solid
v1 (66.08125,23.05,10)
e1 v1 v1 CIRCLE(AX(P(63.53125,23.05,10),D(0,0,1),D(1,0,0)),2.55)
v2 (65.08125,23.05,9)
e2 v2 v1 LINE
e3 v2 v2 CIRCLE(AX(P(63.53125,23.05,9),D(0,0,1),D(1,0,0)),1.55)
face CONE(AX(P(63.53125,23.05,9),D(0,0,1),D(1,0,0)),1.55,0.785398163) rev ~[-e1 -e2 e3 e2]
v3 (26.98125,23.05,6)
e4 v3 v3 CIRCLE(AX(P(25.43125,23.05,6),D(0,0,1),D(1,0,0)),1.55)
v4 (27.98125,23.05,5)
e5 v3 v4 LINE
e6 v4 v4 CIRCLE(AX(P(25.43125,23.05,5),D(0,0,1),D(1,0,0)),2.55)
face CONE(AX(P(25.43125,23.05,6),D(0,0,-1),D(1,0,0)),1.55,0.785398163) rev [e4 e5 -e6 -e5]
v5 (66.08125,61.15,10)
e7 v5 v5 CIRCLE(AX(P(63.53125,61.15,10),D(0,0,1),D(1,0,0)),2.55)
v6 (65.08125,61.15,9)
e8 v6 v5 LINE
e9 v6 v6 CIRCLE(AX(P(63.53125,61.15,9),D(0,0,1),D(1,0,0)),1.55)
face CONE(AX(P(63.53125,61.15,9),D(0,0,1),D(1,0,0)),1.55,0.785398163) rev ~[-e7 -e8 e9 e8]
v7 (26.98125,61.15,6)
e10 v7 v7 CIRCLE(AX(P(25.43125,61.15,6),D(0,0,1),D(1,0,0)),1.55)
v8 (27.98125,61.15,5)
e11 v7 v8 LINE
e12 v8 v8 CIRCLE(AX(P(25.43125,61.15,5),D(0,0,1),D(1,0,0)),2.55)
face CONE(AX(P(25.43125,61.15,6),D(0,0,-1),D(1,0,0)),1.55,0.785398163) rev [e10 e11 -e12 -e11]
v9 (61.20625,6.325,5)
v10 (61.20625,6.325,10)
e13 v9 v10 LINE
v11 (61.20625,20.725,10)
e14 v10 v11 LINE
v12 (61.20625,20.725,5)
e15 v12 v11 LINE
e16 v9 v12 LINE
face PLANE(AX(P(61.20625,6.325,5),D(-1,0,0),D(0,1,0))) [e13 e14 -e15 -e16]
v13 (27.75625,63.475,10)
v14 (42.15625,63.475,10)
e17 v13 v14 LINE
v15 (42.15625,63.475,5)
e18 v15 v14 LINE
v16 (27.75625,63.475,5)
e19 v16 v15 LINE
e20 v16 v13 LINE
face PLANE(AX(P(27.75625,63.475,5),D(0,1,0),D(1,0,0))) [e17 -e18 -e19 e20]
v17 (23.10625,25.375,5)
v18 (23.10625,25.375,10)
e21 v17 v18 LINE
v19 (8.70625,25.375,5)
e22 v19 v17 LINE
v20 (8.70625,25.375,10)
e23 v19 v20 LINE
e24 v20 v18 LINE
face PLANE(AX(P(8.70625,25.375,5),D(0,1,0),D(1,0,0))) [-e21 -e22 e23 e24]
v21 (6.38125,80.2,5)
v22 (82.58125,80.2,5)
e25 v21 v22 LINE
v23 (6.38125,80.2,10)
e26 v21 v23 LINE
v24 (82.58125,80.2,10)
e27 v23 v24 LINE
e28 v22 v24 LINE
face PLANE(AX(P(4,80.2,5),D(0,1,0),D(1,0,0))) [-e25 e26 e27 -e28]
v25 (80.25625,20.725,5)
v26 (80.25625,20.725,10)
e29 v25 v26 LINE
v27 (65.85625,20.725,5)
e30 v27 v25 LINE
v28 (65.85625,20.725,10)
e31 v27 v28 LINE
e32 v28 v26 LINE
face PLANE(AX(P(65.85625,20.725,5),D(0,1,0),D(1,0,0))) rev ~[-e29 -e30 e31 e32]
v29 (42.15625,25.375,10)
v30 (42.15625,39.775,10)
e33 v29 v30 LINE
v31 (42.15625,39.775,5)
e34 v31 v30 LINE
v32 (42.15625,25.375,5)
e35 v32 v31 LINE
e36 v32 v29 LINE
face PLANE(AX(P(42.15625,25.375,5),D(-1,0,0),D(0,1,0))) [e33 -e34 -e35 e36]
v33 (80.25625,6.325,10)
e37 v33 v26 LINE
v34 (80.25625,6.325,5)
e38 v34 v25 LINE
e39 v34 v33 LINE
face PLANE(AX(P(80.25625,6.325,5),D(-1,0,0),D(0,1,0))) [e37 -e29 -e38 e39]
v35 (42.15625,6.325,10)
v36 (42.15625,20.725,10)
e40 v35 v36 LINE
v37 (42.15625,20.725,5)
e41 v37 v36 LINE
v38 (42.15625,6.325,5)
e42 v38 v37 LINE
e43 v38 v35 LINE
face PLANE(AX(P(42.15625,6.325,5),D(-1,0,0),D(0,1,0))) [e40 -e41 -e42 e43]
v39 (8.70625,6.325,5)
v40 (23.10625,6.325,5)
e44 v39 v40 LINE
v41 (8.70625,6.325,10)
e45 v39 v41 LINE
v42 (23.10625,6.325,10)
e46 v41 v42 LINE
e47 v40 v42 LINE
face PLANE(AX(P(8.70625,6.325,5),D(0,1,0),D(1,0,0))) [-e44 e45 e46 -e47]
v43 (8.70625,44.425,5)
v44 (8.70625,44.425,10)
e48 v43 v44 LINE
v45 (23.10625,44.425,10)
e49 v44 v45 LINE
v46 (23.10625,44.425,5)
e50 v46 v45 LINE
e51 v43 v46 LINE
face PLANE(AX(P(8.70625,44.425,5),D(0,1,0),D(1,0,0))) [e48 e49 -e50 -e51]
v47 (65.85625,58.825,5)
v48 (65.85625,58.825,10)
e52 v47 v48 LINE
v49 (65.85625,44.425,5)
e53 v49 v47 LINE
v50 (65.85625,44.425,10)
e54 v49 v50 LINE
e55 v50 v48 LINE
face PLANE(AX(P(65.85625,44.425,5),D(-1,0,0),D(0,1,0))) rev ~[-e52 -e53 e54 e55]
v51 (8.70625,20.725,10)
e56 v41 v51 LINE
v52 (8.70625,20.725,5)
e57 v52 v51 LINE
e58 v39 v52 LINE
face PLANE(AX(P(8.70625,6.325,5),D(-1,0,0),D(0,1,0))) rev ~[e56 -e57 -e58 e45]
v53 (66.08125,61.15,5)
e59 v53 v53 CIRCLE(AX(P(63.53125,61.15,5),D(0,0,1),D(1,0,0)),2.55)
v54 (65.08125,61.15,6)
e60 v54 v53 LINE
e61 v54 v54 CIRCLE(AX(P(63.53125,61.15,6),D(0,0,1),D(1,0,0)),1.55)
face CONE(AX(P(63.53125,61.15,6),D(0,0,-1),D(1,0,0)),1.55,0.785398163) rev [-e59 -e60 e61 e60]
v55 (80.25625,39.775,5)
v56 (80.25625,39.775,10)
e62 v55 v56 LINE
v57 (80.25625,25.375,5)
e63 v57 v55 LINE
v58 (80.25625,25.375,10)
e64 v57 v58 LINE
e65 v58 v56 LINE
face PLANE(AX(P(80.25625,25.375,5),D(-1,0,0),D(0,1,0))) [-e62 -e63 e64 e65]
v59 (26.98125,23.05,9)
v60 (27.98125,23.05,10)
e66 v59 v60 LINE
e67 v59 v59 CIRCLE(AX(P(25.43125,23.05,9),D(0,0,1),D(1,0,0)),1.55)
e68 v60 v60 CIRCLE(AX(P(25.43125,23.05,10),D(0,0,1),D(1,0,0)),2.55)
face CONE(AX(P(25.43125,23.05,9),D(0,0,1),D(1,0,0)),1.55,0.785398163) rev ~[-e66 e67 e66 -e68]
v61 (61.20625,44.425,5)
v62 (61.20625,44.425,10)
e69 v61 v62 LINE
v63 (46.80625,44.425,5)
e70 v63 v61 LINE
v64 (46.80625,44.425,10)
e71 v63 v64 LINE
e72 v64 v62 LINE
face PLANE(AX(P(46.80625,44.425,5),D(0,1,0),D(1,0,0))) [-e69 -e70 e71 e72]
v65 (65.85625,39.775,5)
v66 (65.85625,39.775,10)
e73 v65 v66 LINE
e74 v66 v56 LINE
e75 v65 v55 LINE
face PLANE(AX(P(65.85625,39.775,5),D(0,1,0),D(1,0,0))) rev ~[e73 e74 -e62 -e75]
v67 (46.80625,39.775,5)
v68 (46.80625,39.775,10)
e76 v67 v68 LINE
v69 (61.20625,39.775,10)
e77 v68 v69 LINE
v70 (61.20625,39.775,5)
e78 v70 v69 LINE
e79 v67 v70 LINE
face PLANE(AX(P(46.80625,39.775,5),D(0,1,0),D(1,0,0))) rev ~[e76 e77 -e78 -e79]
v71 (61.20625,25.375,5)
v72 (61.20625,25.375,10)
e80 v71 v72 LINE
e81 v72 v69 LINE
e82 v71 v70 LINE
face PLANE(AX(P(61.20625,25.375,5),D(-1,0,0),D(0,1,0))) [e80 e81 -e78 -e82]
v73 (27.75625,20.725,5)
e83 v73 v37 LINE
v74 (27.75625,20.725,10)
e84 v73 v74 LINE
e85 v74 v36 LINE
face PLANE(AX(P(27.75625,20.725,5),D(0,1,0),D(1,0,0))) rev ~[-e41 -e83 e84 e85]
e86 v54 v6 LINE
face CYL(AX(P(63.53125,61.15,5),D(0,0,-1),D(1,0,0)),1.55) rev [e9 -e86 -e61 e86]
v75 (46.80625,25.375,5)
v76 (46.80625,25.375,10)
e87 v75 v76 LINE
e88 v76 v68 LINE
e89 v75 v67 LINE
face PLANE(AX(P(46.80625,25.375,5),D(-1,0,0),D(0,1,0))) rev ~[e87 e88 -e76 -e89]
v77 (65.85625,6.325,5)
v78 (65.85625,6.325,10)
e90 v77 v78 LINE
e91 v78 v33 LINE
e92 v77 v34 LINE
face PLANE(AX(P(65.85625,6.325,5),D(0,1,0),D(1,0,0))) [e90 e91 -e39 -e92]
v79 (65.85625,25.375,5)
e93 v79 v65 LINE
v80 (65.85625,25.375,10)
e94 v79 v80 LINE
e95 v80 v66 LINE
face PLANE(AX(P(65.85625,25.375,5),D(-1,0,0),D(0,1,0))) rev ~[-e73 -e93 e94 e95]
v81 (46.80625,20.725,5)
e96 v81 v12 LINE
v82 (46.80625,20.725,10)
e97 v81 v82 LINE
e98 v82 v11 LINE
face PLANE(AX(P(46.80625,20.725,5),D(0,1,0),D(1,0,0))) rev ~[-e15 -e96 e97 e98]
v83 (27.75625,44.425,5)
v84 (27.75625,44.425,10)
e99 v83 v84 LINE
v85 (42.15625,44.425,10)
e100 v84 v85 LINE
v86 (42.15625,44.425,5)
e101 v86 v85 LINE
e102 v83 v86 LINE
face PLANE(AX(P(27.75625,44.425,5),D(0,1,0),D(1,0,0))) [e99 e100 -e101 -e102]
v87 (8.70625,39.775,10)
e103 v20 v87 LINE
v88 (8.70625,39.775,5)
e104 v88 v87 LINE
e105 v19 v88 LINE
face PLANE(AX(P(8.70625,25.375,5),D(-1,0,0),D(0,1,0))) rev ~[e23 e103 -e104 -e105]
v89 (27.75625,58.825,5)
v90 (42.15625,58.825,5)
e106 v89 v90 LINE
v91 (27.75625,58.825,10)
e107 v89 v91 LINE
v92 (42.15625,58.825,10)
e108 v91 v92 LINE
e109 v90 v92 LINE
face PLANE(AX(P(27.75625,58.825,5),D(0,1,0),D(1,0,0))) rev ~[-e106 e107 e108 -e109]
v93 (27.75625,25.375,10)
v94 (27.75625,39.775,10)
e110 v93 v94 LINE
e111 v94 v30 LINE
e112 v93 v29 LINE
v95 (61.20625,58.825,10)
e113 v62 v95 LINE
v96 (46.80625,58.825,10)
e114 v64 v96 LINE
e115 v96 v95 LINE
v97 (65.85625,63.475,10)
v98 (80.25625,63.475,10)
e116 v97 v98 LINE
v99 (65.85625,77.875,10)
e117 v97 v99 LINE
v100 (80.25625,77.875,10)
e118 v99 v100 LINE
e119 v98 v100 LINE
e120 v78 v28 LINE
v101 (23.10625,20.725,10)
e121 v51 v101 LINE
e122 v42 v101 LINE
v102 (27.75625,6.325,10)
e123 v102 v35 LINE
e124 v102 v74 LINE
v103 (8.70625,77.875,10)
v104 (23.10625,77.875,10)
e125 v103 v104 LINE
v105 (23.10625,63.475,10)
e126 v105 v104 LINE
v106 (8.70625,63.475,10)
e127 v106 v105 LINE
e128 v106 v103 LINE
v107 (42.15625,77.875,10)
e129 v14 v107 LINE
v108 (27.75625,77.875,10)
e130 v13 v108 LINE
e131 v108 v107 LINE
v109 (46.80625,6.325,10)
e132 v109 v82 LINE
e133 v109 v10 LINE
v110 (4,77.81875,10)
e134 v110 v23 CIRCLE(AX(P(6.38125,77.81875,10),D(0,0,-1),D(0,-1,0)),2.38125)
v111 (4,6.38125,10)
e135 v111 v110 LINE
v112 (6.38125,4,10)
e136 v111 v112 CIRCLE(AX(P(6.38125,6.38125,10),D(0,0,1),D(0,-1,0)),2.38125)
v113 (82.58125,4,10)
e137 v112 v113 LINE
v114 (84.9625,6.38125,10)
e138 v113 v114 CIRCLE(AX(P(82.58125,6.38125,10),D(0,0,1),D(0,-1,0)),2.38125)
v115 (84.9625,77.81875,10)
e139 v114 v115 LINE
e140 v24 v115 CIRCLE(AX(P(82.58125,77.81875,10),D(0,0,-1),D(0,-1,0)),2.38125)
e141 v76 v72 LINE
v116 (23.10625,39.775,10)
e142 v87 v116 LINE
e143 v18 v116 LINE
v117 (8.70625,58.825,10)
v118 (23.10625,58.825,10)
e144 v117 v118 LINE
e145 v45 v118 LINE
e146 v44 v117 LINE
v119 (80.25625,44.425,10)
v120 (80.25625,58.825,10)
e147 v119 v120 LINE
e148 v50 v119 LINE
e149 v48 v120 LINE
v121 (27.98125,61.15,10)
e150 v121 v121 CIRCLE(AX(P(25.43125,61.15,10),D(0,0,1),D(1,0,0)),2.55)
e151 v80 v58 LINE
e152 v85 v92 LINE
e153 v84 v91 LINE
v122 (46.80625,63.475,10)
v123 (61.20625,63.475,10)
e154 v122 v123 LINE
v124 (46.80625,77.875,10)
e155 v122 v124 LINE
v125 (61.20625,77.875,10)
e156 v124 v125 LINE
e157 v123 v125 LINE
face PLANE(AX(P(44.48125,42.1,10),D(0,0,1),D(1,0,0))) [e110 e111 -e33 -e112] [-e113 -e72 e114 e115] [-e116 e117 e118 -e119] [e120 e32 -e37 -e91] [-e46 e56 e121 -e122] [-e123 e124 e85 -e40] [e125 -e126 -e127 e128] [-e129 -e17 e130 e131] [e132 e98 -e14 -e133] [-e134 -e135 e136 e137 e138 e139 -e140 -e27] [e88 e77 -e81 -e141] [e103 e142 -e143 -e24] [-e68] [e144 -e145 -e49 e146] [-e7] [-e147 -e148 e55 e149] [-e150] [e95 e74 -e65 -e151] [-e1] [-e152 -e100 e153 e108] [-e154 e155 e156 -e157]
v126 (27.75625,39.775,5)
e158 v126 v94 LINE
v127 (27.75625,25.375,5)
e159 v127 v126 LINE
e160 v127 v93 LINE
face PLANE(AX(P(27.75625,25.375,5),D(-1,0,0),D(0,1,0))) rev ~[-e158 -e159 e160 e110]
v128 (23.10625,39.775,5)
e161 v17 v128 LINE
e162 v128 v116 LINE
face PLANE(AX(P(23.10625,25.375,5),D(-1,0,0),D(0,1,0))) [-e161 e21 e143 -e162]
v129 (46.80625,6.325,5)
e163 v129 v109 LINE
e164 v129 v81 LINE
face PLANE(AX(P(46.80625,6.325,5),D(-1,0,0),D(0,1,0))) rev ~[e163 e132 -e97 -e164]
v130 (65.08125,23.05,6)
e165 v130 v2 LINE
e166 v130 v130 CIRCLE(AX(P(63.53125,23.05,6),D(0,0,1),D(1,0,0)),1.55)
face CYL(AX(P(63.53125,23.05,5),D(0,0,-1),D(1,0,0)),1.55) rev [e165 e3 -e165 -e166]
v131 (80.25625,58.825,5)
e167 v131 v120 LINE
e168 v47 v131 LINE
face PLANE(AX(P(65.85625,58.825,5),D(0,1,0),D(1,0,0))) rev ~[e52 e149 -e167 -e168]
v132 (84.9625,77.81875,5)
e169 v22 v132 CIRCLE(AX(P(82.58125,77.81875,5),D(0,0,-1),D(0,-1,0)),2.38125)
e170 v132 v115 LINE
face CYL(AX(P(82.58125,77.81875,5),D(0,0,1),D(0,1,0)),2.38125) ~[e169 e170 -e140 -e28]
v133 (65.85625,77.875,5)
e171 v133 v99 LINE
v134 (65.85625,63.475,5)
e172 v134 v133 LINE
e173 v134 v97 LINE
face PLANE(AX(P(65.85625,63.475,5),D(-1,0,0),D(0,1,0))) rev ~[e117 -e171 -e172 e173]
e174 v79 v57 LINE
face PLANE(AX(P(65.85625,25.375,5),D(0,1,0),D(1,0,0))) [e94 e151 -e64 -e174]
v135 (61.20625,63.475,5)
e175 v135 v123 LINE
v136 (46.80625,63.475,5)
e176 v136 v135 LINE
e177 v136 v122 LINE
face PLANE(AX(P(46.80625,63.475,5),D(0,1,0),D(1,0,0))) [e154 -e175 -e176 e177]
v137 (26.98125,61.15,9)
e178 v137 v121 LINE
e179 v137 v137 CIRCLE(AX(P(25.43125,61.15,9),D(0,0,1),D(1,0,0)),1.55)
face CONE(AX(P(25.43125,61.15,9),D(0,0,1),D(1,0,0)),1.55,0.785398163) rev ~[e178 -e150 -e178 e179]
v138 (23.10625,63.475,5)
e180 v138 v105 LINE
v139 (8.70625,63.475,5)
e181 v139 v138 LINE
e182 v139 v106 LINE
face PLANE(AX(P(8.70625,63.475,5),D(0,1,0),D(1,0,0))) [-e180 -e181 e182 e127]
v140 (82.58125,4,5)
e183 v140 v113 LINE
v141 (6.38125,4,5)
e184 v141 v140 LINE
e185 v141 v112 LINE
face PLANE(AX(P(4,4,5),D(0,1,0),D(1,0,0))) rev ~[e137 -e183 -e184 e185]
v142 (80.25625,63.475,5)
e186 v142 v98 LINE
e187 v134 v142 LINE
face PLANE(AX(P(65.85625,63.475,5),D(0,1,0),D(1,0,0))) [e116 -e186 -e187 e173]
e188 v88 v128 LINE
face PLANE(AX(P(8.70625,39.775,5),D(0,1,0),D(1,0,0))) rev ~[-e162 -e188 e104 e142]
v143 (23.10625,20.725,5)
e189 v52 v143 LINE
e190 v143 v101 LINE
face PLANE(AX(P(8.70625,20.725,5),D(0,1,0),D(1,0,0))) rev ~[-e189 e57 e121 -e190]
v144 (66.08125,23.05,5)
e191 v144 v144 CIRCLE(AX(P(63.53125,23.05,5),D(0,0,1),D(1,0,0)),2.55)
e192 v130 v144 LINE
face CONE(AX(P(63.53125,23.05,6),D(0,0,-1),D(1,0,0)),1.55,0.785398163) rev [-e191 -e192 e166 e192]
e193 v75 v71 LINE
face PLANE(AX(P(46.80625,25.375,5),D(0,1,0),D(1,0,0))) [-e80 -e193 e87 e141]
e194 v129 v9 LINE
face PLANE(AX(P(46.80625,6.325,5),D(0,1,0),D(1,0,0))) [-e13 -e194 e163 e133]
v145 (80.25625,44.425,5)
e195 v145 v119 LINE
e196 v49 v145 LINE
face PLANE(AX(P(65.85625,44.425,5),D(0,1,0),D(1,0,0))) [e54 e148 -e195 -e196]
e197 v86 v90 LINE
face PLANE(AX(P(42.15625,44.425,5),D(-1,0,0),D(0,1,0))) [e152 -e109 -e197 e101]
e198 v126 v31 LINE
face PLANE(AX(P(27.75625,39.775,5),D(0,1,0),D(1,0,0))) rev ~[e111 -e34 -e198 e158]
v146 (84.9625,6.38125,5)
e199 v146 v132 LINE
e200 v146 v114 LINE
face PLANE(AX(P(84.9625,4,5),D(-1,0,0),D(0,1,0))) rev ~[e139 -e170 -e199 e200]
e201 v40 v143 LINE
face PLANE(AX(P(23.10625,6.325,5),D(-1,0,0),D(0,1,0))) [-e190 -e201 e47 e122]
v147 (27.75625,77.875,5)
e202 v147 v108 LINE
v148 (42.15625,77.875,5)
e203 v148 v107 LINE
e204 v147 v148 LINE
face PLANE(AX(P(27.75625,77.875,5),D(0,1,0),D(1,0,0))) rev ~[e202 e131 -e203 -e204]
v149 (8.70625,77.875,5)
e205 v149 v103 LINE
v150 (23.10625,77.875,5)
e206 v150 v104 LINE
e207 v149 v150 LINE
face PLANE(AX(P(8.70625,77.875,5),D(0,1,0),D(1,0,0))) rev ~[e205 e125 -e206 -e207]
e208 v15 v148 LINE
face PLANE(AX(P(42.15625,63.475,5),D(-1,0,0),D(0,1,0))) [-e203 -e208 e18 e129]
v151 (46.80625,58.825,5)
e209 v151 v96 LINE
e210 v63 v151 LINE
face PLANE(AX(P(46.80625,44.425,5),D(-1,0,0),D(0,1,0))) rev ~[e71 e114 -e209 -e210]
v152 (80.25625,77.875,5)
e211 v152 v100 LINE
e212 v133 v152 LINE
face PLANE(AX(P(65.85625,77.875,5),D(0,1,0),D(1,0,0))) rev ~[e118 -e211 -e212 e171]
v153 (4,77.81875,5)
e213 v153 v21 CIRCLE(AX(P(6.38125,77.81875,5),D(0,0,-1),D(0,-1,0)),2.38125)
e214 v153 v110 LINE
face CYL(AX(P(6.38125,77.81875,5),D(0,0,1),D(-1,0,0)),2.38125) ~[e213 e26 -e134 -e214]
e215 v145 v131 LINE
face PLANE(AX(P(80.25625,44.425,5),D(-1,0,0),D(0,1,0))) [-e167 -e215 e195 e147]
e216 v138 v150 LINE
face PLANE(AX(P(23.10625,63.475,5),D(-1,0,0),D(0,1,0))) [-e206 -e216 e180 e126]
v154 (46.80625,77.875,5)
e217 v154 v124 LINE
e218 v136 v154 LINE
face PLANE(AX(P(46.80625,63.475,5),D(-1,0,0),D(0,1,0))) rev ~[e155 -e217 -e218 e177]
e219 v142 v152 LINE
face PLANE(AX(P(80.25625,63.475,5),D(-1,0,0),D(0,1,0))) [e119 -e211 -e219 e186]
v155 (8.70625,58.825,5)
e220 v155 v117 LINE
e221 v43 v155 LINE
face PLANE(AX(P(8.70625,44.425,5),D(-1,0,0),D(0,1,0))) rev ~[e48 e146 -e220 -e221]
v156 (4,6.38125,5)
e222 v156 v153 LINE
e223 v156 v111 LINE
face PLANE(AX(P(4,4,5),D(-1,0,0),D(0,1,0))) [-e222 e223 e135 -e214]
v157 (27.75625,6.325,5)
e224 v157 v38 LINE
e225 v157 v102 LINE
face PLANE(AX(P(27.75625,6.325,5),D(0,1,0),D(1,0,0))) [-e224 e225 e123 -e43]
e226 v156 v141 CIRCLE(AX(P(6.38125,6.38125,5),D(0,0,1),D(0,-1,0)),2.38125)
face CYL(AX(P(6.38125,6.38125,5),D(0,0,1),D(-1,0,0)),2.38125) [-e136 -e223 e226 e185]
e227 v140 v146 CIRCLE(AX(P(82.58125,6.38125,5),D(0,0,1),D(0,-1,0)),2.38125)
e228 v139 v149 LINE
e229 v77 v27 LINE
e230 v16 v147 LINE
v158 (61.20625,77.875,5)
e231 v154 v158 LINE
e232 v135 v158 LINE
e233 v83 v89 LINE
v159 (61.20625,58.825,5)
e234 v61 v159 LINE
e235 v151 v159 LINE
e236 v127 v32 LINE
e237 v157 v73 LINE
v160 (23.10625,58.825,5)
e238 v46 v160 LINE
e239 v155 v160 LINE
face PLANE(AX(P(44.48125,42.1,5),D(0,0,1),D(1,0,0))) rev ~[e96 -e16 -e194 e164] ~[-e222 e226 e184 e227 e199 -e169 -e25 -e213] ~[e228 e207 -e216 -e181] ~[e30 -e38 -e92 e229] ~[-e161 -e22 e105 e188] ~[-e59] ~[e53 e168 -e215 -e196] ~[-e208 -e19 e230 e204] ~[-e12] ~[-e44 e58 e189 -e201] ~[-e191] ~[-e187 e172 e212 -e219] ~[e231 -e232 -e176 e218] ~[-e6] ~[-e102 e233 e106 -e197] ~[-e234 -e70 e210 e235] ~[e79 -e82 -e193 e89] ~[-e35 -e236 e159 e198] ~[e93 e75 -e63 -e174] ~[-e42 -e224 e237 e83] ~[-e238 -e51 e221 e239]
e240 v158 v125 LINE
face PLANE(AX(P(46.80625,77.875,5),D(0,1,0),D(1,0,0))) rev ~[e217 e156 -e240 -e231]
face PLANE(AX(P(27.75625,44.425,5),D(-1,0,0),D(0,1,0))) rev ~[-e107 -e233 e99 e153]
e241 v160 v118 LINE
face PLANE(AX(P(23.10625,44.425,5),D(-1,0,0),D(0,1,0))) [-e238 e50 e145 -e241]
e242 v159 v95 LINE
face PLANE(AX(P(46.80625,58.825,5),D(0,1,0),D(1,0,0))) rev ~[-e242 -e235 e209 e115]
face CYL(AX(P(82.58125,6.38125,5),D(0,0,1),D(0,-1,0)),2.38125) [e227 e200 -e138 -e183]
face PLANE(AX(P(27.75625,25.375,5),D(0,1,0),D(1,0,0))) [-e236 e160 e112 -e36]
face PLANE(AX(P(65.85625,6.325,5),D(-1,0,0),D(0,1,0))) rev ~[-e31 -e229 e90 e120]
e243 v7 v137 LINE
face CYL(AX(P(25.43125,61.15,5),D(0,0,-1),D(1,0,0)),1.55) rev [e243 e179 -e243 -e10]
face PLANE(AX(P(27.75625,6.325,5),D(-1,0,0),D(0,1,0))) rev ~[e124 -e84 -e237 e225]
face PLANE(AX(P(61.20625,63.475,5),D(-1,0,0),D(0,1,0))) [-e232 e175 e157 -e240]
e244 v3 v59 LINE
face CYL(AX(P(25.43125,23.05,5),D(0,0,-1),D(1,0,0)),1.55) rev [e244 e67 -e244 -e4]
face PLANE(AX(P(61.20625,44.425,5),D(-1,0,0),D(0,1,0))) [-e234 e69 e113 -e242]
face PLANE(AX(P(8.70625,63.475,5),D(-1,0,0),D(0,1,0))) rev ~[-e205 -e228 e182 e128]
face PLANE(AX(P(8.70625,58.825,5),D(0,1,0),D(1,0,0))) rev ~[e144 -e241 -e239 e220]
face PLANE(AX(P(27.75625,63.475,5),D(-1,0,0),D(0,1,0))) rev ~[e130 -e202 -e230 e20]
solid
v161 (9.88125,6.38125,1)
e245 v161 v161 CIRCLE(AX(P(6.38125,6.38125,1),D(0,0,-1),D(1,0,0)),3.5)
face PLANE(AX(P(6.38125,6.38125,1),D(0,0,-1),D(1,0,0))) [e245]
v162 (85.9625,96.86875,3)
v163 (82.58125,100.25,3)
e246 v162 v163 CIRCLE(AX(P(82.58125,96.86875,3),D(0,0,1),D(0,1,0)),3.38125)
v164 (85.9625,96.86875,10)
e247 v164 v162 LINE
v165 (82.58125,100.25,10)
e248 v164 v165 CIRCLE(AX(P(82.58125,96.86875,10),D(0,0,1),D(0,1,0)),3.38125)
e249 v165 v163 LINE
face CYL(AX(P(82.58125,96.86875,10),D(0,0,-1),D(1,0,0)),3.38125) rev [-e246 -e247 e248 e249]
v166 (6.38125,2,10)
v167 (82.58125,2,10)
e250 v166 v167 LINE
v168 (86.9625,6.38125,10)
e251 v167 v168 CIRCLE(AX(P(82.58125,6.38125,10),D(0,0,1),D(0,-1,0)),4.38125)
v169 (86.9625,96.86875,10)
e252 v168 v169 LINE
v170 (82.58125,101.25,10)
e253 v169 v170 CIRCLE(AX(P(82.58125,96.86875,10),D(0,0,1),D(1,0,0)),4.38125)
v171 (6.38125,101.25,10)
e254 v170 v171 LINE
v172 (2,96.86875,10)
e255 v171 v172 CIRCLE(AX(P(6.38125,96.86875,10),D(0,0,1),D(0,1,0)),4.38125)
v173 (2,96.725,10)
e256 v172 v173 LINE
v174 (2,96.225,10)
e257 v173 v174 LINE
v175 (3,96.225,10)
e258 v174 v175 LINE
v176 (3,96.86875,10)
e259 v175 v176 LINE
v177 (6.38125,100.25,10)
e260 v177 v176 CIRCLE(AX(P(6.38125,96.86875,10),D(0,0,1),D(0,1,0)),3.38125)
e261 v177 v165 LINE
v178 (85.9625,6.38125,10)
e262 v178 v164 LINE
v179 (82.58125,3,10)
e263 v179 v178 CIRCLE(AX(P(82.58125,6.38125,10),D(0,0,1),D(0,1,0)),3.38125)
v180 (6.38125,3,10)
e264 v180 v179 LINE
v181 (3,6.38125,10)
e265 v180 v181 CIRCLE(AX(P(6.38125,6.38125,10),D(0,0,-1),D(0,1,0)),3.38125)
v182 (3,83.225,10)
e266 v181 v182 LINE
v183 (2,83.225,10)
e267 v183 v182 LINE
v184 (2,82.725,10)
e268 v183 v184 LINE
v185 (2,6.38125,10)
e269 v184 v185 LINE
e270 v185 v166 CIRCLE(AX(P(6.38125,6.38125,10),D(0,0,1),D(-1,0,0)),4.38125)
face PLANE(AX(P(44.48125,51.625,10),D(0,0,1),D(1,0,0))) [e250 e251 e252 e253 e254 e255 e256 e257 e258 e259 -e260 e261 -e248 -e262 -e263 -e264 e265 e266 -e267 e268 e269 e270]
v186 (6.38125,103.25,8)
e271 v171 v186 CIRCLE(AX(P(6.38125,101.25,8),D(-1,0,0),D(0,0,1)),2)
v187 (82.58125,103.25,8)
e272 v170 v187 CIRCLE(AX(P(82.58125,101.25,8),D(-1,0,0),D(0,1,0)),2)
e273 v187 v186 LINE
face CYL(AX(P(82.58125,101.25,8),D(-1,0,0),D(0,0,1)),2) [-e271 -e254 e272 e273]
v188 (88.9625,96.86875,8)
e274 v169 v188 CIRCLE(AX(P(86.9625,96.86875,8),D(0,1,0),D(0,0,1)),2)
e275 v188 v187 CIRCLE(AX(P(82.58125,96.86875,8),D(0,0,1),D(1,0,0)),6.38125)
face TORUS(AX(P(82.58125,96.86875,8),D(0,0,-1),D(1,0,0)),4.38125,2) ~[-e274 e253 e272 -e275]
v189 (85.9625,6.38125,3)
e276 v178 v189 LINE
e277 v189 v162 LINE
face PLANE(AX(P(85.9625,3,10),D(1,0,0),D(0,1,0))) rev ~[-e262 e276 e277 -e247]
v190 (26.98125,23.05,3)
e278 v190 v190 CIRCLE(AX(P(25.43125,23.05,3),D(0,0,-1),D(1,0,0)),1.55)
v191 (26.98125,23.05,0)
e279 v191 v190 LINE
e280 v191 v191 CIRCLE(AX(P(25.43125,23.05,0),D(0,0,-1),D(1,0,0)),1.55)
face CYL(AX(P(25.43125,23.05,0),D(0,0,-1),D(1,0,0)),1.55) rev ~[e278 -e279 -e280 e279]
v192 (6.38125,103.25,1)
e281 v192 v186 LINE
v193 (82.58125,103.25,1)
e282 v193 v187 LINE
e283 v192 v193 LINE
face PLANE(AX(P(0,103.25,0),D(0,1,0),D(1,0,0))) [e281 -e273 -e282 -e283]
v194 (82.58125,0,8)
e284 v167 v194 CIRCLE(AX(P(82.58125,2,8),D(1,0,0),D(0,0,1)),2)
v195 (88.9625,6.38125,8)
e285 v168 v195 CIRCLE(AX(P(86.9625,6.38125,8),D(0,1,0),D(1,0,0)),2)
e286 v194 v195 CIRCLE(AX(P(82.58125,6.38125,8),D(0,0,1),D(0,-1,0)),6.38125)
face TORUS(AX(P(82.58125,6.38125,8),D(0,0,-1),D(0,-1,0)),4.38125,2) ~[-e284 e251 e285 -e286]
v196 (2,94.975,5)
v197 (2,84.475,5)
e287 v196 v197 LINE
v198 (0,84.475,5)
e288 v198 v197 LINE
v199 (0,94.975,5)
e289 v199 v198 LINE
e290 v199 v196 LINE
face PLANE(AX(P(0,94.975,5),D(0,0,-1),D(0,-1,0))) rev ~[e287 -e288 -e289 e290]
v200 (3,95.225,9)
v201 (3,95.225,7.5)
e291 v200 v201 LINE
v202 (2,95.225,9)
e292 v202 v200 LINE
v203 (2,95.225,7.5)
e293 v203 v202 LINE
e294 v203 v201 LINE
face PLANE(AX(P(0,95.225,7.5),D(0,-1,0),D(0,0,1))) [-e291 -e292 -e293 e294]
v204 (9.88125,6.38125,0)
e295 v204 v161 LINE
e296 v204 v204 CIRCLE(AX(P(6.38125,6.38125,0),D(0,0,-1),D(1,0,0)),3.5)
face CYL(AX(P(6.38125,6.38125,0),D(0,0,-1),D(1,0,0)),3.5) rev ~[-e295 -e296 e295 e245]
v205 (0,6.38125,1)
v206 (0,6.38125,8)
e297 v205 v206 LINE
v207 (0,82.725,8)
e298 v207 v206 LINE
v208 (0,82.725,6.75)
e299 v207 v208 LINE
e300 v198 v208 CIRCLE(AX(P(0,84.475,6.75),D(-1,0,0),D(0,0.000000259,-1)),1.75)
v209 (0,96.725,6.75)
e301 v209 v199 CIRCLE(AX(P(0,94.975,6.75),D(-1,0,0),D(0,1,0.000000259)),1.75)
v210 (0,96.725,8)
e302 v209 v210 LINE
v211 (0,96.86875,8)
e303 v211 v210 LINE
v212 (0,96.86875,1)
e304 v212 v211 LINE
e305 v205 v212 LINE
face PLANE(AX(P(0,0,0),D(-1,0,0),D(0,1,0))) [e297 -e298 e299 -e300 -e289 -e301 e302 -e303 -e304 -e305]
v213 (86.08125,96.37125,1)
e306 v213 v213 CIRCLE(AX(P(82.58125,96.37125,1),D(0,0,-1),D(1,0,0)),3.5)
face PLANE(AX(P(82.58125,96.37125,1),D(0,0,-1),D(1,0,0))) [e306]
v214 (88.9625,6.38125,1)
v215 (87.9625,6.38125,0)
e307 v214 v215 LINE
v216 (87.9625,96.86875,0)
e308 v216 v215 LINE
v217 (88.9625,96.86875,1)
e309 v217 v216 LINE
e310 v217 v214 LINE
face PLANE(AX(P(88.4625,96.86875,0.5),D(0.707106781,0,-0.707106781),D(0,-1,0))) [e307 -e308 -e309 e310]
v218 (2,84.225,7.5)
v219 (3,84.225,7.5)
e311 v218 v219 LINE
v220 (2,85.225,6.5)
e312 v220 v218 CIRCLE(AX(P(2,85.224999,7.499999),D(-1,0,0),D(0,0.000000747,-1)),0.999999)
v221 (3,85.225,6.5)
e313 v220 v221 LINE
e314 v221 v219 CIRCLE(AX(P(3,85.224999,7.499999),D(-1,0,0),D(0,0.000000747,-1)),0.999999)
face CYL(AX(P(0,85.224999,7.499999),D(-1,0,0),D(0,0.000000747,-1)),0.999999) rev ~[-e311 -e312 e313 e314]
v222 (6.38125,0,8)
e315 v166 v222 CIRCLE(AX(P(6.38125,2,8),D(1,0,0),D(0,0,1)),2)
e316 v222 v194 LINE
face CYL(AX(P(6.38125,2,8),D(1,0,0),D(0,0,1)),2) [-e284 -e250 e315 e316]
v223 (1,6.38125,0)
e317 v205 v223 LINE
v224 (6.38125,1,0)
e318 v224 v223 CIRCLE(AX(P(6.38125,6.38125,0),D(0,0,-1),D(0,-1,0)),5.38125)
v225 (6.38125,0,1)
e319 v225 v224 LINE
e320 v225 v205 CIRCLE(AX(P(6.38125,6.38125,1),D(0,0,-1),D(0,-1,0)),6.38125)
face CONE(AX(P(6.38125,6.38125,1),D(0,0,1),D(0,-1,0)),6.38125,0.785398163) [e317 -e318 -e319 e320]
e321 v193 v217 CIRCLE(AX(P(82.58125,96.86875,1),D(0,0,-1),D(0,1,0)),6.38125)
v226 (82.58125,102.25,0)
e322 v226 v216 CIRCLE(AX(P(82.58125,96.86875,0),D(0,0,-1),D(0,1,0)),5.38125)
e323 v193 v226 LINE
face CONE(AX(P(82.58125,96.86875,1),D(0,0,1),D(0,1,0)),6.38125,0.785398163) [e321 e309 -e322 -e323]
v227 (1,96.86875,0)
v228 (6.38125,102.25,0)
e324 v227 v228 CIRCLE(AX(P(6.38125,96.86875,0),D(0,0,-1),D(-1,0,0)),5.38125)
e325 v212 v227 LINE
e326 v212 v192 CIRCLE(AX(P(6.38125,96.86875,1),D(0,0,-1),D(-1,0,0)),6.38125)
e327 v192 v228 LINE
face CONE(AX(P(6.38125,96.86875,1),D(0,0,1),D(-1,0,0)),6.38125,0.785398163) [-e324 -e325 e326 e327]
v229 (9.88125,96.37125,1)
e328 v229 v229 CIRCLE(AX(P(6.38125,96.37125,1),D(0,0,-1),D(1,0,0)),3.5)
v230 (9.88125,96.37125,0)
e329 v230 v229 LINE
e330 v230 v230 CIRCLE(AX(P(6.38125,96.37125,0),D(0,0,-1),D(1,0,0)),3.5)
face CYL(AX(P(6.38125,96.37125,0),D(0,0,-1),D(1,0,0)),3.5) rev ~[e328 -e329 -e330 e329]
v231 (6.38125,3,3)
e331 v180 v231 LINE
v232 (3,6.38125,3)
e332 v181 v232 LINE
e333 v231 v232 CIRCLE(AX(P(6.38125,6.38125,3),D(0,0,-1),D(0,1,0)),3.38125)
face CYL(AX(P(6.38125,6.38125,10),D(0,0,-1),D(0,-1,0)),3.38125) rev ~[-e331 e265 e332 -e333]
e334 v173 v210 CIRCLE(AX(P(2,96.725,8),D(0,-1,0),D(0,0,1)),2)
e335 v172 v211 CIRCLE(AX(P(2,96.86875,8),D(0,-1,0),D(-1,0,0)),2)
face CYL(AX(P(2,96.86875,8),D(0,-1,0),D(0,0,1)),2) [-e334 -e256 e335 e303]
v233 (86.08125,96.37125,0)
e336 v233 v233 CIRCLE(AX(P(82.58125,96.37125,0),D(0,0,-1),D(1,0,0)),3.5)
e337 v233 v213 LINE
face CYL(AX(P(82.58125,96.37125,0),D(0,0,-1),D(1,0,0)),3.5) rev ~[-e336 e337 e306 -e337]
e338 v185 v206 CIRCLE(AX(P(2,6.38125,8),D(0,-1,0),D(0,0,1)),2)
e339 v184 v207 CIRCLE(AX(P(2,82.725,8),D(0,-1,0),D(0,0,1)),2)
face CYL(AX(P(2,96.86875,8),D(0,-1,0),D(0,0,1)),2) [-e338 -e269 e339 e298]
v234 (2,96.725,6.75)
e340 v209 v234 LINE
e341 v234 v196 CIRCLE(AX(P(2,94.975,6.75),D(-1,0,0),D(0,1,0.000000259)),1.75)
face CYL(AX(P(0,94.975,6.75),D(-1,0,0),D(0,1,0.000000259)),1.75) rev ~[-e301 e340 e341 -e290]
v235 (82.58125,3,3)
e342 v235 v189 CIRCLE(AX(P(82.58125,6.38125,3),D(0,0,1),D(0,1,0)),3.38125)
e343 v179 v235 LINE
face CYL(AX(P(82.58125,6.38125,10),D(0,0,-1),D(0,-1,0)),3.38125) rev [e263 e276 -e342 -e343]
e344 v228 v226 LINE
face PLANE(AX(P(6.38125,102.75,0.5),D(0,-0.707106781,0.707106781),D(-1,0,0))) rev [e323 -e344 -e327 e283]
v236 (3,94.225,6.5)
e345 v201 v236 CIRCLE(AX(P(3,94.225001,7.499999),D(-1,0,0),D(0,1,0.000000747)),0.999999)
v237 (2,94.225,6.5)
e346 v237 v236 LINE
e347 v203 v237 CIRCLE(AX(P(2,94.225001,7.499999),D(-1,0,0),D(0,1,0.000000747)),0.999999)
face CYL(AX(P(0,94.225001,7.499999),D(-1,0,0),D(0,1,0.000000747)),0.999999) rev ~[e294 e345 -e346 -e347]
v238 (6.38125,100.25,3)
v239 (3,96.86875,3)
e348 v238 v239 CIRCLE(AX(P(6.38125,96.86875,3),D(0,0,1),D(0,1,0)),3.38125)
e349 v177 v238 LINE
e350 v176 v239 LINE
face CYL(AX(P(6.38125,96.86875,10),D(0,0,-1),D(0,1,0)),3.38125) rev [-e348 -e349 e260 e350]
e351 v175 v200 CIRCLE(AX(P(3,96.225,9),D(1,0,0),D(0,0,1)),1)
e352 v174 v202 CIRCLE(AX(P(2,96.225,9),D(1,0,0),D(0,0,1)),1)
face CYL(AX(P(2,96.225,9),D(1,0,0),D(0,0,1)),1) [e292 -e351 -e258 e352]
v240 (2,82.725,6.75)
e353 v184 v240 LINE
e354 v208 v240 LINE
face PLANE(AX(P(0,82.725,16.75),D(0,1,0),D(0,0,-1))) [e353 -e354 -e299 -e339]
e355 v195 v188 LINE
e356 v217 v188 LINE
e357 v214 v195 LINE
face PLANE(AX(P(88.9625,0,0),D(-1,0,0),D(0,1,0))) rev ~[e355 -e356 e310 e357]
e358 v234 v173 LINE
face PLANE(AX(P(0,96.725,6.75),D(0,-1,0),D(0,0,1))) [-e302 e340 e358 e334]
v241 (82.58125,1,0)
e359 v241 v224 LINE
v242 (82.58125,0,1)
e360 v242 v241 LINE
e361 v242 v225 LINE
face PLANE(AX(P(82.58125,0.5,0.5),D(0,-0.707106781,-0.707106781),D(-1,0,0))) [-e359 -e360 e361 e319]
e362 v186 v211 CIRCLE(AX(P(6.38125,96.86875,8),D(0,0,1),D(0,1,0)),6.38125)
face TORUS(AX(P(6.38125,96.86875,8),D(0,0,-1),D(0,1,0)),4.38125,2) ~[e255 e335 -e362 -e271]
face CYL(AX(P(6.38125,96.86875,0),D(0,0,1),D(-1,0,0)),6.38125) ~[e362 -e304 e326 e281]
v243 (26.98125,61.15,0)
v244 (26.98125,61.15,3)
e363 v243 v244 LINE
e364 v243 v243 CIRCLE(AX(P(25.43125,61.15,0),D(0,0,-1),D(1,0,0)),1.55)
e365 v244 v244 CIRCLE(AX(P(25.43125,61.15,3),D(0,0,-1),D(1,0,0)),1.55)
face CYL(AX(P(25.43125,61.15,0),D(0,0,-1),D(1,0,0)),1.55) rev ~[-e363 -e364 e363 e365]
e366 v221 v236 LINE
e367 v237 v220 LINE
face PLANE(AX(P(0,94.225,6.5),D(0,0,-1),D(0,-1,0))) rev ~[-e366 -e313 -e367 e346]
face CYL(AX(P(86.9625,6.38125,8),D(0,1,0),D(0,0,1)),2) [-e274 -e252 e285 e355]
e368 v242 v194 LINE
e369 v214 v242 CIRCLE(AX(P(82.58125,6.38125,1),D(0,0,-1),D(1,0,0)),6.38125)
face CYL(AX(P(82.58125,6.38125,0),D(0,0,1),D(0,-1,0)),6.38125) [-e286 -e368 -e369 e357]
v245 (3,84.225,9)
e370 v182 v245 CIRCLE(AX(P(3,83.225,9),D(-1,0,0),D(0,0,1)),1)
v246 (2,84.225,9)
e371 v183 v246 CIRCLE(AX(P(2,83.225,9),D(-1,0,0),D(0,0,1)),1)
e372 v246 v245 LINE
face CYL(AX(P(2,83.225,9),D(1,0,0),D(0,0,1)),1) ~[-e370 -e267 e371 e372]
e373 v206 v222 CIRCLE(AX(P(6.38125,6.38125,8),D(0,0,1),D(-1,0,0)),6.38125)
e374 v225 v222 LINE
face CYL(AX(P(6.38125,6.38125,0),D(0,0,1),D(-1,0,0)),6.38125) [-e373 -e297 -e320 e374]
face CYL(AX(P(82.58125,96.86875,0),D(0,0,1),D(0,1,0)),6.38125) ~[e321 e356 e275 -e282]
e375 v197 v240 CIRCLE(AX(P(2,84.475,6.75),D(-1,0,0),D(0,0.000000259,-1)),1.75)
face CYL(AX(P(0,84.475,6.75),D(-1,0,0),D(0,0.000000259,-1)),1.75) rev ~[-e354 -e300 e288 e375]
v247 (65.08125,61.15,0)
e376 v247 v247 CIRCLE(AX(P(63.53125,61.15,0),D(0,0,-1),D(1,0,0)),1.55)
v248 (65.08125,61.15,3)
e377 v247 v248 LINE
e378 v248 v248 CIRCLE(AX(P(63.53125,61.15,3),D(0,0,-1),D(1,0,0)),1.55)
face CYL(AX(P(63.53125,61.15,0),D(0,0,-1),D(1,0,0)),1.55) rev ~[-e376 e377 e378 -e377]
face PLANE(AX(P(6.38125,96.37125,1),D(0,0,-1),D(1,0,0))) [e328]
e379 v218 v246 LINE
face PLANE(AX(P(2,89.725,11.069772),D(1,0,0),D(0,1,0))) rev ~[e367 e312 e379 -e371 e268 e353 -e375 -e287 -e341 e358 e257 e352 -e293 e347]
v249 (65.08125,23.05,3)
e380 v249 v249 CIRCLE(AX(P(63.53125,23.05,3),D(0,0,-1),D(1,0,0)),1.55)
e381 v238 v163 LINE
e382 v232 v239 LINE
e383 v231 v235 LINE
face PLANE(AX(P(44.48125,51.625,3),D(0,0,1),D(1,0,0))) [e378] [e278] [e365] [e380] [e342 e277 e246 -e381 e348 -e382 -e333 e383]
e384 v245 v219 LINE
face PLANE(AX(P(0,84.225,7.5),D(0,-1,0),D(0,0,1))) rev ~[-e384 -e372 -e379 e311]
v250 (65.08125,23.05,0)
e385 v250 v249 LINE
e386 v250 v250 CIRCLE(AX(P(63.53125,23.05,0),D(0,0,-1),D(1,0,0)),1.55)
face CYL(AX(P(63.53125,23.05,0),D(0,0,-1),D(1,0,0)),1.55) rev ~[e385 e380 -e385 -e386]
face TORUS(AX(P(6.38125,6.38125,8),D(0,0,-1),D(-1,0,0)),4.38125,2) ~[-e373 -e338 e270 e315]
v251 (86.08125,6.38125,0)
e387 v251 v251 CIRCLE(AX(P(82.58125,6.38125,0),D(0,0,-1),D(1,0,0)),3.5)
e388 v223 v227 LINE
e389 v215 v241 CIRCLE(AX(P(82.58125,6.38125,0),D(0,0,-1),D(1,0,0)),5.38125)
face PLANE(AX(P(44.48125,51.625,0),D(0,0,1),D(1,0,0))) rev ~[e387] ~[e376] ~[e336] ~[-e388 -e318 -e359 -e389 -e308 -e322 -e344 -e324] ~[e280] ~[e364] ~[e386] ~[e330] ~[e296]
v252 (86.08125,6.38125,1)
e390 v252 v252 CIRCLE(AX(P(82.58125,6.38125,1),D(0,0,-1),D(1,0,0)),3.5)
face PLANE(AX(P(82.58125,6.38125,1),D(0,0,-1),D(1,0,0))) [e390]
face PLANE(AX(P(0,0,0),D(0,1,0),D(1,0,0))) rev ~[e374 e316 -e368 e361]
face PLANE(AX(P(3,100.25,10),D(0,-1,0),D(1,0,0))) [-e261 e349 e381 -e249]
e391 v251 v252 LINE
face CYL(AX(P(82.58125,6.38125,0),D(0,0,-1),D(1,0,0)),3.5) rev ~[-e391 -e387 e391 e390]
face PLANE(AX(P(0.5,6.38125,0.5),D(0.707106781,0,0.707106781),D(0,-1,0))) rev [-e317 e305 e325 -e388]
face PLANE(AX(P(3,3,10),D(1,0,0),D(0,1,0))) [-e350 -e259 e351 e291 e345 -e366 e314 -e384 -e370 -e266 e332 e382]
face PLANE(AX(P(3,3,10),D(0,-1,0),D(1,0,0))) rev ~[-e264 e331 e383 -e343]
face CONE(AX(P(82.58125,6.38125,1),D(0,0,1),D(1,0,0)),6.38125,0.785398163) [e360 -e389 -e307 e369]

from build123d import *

# Parameters (mm, degrees)
SKETCH_W        = 80.9625
SKETCH_H        = 76.2
SKETCH_R        = 1.55
SKETCH_W_2      = 14.4
SKETCH_H_2      = 14.4
PAD_DEPTH       = 5
CHAMFER_SIZE    = 1
FILLET_R        = 2.38125
SKETCH001_W     = 88.9625
SKETCH001_H     = 103.25
PAD001_DEPTH    = 10
SKETCH002_W     = 82.9625
SKETCH002_H     = 97.25
POCKET_DEPTH    = 7
SKETCH003_R     = 1.55
POCKET001_DEPTH = 10.001
FILLET001_R     = 3.38125
FILLET002_R     = 6.38125
FILLET003_R     = 2
SKETCH004_R     = 3.5
POCKET002_DEPTH = 1
POCKET003_DEPTH = 5
POCKET004_DEPTH = 2
FILLET004_R     = 1
CHAMFER001_SIZE = 1


with BuildPart() as plate:
    # Sketch → Pad (new body)
    with BuildSketch(Plane.XY):
        with Locations((40.48125, 38.1)):
            Rectangle(SKETCH_W, SKETCH_H)
        with Locations((59.53125, 19.05)):
            Circle(SKETCH_R, mode=Mode.SUBTRACT)
        with Locations((21.43125, 19.05)):
            Circle(SKETCH_R, mode=Mode.SUBTRACT)
        with Locations((21.43125, 57.15)):
            Circle(SKETCH_R, mode=Mode.SUBTRACT)
        with Locations((59.53125, 57.15)):
            Circle(SKETCH_R, mode=Mode.SUBTRACT)
        with Locations((11.90625, 9.525)):
            Rectangle(SKETCH_W_2, SKETCH_H_2, mode=Mode.SUBTRACT)
        with Locations((30.95625, 9.525)):
            Rectangle(SKETCH_W_2, SKETCH_H_2, mode=Mode.SUBTRACT)
        with Locations((50.00625, 9.525)):
            Rectangle(SKETCH_W_2, SKETCH_H_2, mode=Mode.SUBTRACT)
        with Locations((69.05625, 9.525)):
            Rectangle(SKETCH_W_2, SKETCH_H_2, mode=Mode.SUBTRACT)
        with Locations((11.90625, 28.575)):
            Rectangle(SKETCH_W_2, SKETCH_H_2, mode=Mode.SUBTRACT)
        with Locations((30.95625, 28.575)):
            Rectangle(SKETCH_W_2, SKETCH_H_2, mode=Mode.SUBTRACT)
        with Locations((50.00625, 28.575)):
            Rectangle(SKETCH_W_2, SKETCH_H_2, mode=Mode.SUBTRACT)
        with Locations((69.05625, 28.575)):
            Rectangle(SKETCH_W_2, SKETCH_H_2, mode=Mode.SUBTRACT)
        with Locations((11.90625, 47.625)):
            Rectangle(SKETCH_W_2, SKETCH_H_2, mode=Mode.SUBTRACT)
        with Locations((30.95625, 47.625)):
            Rectangle(SKETCH_W_2, SKETCH_H_2, mode=Mode.SUBTRACT)
        with Locations((50.00625, 47.625)):
            Rectangle(SKETCH_W_2, SKETCH_H_2, mode=Mode.SUBTRACT)
        with Locations((69.05625, 47.625)):
            Rectangle(SKETCH_W_2, SKETCH_H_2, mode=Mode.SUBTRACT)
        with Locations((11.90625, 66.675)):
            Rectangle(SKETCH_W_2, SKETCH_H_2, mode=Mode.SUBTRACT)
        with Locations((30.95625, 66.675)):
            Rectangle(SKETCH_W_2, SKETCH_H_2, mode=Mode.SUBTRACT)
        with Locations((50.00625, 66.675)):
            Rectangle(SKETCH_W_2, SKETCH_H_2, mode=Mode.SUBTRACT)
        with Locations((69.05625, 66.675)):
            Rectangle(SKETCH_W_2, SKETCH_H_2, mode=Mode.SUBTRACT)
    extrude(amount=PAD_DEPTH)

    # Chamfer
    chamfer_edges = [plate.edges().sort_by_distance(p)[0] for p in [
        (57.98125, 57.15, 5),
        (57.98125, 19.05, 5),
        (19.88125, 19.05, 5),
        (19.88125, 57.15, 5),
        (19.88125, 57.15, 0),
        (57.98125, 57.15, 0),
        (57.98125, 19.05, 0),
        (19.88125, 19.05, 0),
    ]]
    chamfer(chamfer_edges, length=CHAMFER_SIZE)

    # Fillet
    fillet_edges = [plate.edges().sort_by_distance(p)[0] for p in [
        (0, 0, 2.5),
        (80.9625, 0, 2.5),
        (80.9625, 76.2, 2.5),
        (0, 76.2, 2.5),
    ]]
    fillet(fillet_edges, radius=FILLET_R)


with BuildPart() as plate_1:
    # Body placement: moved
    add(plate.part.moved(Location((4, 4, 5))))


with BuildPart() as body001:
    # Sketch001 → Pad001 (new body)
    with BuildSketch(Plane.XY):
        with Locations((44.48125, 51.625)):
            Rectangle(SKETCH001_W, SKETCH001_H)
    extrude(amount=PAD001_DEPTH)

    # Sketch002 (on Face6 of Pad001) → Pocket (cut)
    with BuildSketch(Plane.XY.offset(10)):
        with Locations((44.48125, 51.625)):
            Rectangle(SKETCH002_W, SKETCH002_H)
    extrude(amount=-POCKET_DEPTH, mode=Mode.SUBTRACT)

    # Sketch003 (on Face4 of Pocket) → Pocket001 (cut, through all)
    with BuildSketch(Plane(origin=(0, 0, 0), x_dir=(1, 0, 0), z_dir=(0, 0, -1))):
        with Locations((25.43125, -23.05)):
            Circle(SKETCH003_R)
        with Locations((63.53125, -23.05)):
            Circle(SKETCH003_R)
        with Locations((63.53125, -61.15)):
            Circle(SKETCH003_R)
        with Locations((25.43125, -61.15)):
            Circle(SKETCH003_R)
    extrude(amount=-POCKET001_DEPTH, mode=Mode.SUBTRACT)

    # Fillet001
    fillet001_edges = [body001.edges().sort_by_distance(p)[0] for p in [
        (85.9625, 3, 6.5),
        (85.9625, 100.25, 6.5),
        (3, 100.25, 6.5),
        (3, 3, 6.5),
    ]]
    fillet(fillet001_edges, radius=FILLET001_R)

    # Fillet002
    fillet002_edges = [body001.edges().sort_by_distance(p)[0] for p in [
        (0, 0, 5),
        (88.9625, 0, 5),
        (88.9625, 103.25, 5),
        (0, 103.25, 5),
    ]]
    fillet(fillet002_edges, radius=FILLET002_R)

    # Fillet003
    fillet003_edges = [body001.edges().sort_by_distance(p)[0] for p in [
        (44.48125, 0, 10),
    ]]
    fillet(fillet003_edges, radius=FILLET003_R)

    # Sketch004 (on Face27 of Fillet003) → Pocket002 (cut)
    with BuildSketch(Plane(origin=(0, 0, 0), x_dir=(1, 0, 0), z_dir=(0, 0, -1))):
        with Locations((82.58125, -6.38125)):
            Circle(SKETCH004_R)
        with Locations((6.38125, -6.38125)):
            Circle(SKETCH004_R)
        with Locations((6.38125, -96.37125)):
            Circle(SKETCH004_R)
        with Locations((82.58125, -96.37125)):
            Circle(SKETCH004_R)
    extrude(amount=-POCKET002_DEPTH, mode=Mode.SUBTRACT)

    # Sketch005 (on Face21 of Pocket002) → Pocket003 (cut)
    with BuildSketch(Plane(origin=(0, 0, 0), x_dir=(0, -1, 0), z_dir=(-1, 0, 0))):
        with BuildLine():
            Line((-89.725, 6.5), (-85.225, 6.5))
            ThreePointArc((-85.225, 6.5), (-84.517893, 6.792893), (-84.225, 7.5))
            Line((-84.225, 7.5), (-84.225, 17.5))
            Line((-95.225, 17.5), (-84.225, 17.5))
            Line((-95.225, 7.5), (-95.225, 17.5))
            ThreePointArc((-95.225, 7.5), (-94.932107, 6.792893), (-94.225, 6.5))
            Line((-89.725, 6.5), (-94.225, 6.5))
        make_face()
    extrude(amount=-POCKET003_DEPTH, mode=Mode.SUBTRACT)

    # Sketch006 (on Face22 of Pocket003) → Pocket004 (cut)
    with BuildSketch(Plane(origin=(0, 0, 0), x_dir=(0, -1, 0), z_dir=(-1, 0, 0))):
        with BuildLine():
            Line((-89.725, 5), (-94.975, 5))
            ThreePointArc((-96.725, 6.75), (-96.212437, 5.512563), (-94.975, 5))
            Line((-96.725, 6.75), (-96.725, 16.75))
            Line((-96.725, 16.75), (-82.725, 16.75))
            Line((-82.725, 16.75), (-82.725, 6.75))
            ThreePointArc((-84.475, 5), (-83.237563, 5.512563), (-82.725, 6.75))
            Line((-89.725, 5), (-84.475, 5))
        make_face()
    extrude(amount=-POCKET004_DEPTH, mode=Mode.SUBTRACT)

    # Fillet004
    fillet004_edges = [body001.edges().sort_by_distance(p)[0] for p in [
        (2.5, 84.225, 10),
        (2.5, 95.225, 10),
    ]]
    fillet(fillet004_edges, radius=FILLET004_R)

    # Chamfer001
    chamfer001_edges = [body001.edges().sort_by_distance(p)[0] for p in [
        (0, 51.625, 0),
    ]]
    chamfer(chamfer001_edges, length=CHAMFER001_SIZE)


solid = Compound([plate_1.part, body001.part])
